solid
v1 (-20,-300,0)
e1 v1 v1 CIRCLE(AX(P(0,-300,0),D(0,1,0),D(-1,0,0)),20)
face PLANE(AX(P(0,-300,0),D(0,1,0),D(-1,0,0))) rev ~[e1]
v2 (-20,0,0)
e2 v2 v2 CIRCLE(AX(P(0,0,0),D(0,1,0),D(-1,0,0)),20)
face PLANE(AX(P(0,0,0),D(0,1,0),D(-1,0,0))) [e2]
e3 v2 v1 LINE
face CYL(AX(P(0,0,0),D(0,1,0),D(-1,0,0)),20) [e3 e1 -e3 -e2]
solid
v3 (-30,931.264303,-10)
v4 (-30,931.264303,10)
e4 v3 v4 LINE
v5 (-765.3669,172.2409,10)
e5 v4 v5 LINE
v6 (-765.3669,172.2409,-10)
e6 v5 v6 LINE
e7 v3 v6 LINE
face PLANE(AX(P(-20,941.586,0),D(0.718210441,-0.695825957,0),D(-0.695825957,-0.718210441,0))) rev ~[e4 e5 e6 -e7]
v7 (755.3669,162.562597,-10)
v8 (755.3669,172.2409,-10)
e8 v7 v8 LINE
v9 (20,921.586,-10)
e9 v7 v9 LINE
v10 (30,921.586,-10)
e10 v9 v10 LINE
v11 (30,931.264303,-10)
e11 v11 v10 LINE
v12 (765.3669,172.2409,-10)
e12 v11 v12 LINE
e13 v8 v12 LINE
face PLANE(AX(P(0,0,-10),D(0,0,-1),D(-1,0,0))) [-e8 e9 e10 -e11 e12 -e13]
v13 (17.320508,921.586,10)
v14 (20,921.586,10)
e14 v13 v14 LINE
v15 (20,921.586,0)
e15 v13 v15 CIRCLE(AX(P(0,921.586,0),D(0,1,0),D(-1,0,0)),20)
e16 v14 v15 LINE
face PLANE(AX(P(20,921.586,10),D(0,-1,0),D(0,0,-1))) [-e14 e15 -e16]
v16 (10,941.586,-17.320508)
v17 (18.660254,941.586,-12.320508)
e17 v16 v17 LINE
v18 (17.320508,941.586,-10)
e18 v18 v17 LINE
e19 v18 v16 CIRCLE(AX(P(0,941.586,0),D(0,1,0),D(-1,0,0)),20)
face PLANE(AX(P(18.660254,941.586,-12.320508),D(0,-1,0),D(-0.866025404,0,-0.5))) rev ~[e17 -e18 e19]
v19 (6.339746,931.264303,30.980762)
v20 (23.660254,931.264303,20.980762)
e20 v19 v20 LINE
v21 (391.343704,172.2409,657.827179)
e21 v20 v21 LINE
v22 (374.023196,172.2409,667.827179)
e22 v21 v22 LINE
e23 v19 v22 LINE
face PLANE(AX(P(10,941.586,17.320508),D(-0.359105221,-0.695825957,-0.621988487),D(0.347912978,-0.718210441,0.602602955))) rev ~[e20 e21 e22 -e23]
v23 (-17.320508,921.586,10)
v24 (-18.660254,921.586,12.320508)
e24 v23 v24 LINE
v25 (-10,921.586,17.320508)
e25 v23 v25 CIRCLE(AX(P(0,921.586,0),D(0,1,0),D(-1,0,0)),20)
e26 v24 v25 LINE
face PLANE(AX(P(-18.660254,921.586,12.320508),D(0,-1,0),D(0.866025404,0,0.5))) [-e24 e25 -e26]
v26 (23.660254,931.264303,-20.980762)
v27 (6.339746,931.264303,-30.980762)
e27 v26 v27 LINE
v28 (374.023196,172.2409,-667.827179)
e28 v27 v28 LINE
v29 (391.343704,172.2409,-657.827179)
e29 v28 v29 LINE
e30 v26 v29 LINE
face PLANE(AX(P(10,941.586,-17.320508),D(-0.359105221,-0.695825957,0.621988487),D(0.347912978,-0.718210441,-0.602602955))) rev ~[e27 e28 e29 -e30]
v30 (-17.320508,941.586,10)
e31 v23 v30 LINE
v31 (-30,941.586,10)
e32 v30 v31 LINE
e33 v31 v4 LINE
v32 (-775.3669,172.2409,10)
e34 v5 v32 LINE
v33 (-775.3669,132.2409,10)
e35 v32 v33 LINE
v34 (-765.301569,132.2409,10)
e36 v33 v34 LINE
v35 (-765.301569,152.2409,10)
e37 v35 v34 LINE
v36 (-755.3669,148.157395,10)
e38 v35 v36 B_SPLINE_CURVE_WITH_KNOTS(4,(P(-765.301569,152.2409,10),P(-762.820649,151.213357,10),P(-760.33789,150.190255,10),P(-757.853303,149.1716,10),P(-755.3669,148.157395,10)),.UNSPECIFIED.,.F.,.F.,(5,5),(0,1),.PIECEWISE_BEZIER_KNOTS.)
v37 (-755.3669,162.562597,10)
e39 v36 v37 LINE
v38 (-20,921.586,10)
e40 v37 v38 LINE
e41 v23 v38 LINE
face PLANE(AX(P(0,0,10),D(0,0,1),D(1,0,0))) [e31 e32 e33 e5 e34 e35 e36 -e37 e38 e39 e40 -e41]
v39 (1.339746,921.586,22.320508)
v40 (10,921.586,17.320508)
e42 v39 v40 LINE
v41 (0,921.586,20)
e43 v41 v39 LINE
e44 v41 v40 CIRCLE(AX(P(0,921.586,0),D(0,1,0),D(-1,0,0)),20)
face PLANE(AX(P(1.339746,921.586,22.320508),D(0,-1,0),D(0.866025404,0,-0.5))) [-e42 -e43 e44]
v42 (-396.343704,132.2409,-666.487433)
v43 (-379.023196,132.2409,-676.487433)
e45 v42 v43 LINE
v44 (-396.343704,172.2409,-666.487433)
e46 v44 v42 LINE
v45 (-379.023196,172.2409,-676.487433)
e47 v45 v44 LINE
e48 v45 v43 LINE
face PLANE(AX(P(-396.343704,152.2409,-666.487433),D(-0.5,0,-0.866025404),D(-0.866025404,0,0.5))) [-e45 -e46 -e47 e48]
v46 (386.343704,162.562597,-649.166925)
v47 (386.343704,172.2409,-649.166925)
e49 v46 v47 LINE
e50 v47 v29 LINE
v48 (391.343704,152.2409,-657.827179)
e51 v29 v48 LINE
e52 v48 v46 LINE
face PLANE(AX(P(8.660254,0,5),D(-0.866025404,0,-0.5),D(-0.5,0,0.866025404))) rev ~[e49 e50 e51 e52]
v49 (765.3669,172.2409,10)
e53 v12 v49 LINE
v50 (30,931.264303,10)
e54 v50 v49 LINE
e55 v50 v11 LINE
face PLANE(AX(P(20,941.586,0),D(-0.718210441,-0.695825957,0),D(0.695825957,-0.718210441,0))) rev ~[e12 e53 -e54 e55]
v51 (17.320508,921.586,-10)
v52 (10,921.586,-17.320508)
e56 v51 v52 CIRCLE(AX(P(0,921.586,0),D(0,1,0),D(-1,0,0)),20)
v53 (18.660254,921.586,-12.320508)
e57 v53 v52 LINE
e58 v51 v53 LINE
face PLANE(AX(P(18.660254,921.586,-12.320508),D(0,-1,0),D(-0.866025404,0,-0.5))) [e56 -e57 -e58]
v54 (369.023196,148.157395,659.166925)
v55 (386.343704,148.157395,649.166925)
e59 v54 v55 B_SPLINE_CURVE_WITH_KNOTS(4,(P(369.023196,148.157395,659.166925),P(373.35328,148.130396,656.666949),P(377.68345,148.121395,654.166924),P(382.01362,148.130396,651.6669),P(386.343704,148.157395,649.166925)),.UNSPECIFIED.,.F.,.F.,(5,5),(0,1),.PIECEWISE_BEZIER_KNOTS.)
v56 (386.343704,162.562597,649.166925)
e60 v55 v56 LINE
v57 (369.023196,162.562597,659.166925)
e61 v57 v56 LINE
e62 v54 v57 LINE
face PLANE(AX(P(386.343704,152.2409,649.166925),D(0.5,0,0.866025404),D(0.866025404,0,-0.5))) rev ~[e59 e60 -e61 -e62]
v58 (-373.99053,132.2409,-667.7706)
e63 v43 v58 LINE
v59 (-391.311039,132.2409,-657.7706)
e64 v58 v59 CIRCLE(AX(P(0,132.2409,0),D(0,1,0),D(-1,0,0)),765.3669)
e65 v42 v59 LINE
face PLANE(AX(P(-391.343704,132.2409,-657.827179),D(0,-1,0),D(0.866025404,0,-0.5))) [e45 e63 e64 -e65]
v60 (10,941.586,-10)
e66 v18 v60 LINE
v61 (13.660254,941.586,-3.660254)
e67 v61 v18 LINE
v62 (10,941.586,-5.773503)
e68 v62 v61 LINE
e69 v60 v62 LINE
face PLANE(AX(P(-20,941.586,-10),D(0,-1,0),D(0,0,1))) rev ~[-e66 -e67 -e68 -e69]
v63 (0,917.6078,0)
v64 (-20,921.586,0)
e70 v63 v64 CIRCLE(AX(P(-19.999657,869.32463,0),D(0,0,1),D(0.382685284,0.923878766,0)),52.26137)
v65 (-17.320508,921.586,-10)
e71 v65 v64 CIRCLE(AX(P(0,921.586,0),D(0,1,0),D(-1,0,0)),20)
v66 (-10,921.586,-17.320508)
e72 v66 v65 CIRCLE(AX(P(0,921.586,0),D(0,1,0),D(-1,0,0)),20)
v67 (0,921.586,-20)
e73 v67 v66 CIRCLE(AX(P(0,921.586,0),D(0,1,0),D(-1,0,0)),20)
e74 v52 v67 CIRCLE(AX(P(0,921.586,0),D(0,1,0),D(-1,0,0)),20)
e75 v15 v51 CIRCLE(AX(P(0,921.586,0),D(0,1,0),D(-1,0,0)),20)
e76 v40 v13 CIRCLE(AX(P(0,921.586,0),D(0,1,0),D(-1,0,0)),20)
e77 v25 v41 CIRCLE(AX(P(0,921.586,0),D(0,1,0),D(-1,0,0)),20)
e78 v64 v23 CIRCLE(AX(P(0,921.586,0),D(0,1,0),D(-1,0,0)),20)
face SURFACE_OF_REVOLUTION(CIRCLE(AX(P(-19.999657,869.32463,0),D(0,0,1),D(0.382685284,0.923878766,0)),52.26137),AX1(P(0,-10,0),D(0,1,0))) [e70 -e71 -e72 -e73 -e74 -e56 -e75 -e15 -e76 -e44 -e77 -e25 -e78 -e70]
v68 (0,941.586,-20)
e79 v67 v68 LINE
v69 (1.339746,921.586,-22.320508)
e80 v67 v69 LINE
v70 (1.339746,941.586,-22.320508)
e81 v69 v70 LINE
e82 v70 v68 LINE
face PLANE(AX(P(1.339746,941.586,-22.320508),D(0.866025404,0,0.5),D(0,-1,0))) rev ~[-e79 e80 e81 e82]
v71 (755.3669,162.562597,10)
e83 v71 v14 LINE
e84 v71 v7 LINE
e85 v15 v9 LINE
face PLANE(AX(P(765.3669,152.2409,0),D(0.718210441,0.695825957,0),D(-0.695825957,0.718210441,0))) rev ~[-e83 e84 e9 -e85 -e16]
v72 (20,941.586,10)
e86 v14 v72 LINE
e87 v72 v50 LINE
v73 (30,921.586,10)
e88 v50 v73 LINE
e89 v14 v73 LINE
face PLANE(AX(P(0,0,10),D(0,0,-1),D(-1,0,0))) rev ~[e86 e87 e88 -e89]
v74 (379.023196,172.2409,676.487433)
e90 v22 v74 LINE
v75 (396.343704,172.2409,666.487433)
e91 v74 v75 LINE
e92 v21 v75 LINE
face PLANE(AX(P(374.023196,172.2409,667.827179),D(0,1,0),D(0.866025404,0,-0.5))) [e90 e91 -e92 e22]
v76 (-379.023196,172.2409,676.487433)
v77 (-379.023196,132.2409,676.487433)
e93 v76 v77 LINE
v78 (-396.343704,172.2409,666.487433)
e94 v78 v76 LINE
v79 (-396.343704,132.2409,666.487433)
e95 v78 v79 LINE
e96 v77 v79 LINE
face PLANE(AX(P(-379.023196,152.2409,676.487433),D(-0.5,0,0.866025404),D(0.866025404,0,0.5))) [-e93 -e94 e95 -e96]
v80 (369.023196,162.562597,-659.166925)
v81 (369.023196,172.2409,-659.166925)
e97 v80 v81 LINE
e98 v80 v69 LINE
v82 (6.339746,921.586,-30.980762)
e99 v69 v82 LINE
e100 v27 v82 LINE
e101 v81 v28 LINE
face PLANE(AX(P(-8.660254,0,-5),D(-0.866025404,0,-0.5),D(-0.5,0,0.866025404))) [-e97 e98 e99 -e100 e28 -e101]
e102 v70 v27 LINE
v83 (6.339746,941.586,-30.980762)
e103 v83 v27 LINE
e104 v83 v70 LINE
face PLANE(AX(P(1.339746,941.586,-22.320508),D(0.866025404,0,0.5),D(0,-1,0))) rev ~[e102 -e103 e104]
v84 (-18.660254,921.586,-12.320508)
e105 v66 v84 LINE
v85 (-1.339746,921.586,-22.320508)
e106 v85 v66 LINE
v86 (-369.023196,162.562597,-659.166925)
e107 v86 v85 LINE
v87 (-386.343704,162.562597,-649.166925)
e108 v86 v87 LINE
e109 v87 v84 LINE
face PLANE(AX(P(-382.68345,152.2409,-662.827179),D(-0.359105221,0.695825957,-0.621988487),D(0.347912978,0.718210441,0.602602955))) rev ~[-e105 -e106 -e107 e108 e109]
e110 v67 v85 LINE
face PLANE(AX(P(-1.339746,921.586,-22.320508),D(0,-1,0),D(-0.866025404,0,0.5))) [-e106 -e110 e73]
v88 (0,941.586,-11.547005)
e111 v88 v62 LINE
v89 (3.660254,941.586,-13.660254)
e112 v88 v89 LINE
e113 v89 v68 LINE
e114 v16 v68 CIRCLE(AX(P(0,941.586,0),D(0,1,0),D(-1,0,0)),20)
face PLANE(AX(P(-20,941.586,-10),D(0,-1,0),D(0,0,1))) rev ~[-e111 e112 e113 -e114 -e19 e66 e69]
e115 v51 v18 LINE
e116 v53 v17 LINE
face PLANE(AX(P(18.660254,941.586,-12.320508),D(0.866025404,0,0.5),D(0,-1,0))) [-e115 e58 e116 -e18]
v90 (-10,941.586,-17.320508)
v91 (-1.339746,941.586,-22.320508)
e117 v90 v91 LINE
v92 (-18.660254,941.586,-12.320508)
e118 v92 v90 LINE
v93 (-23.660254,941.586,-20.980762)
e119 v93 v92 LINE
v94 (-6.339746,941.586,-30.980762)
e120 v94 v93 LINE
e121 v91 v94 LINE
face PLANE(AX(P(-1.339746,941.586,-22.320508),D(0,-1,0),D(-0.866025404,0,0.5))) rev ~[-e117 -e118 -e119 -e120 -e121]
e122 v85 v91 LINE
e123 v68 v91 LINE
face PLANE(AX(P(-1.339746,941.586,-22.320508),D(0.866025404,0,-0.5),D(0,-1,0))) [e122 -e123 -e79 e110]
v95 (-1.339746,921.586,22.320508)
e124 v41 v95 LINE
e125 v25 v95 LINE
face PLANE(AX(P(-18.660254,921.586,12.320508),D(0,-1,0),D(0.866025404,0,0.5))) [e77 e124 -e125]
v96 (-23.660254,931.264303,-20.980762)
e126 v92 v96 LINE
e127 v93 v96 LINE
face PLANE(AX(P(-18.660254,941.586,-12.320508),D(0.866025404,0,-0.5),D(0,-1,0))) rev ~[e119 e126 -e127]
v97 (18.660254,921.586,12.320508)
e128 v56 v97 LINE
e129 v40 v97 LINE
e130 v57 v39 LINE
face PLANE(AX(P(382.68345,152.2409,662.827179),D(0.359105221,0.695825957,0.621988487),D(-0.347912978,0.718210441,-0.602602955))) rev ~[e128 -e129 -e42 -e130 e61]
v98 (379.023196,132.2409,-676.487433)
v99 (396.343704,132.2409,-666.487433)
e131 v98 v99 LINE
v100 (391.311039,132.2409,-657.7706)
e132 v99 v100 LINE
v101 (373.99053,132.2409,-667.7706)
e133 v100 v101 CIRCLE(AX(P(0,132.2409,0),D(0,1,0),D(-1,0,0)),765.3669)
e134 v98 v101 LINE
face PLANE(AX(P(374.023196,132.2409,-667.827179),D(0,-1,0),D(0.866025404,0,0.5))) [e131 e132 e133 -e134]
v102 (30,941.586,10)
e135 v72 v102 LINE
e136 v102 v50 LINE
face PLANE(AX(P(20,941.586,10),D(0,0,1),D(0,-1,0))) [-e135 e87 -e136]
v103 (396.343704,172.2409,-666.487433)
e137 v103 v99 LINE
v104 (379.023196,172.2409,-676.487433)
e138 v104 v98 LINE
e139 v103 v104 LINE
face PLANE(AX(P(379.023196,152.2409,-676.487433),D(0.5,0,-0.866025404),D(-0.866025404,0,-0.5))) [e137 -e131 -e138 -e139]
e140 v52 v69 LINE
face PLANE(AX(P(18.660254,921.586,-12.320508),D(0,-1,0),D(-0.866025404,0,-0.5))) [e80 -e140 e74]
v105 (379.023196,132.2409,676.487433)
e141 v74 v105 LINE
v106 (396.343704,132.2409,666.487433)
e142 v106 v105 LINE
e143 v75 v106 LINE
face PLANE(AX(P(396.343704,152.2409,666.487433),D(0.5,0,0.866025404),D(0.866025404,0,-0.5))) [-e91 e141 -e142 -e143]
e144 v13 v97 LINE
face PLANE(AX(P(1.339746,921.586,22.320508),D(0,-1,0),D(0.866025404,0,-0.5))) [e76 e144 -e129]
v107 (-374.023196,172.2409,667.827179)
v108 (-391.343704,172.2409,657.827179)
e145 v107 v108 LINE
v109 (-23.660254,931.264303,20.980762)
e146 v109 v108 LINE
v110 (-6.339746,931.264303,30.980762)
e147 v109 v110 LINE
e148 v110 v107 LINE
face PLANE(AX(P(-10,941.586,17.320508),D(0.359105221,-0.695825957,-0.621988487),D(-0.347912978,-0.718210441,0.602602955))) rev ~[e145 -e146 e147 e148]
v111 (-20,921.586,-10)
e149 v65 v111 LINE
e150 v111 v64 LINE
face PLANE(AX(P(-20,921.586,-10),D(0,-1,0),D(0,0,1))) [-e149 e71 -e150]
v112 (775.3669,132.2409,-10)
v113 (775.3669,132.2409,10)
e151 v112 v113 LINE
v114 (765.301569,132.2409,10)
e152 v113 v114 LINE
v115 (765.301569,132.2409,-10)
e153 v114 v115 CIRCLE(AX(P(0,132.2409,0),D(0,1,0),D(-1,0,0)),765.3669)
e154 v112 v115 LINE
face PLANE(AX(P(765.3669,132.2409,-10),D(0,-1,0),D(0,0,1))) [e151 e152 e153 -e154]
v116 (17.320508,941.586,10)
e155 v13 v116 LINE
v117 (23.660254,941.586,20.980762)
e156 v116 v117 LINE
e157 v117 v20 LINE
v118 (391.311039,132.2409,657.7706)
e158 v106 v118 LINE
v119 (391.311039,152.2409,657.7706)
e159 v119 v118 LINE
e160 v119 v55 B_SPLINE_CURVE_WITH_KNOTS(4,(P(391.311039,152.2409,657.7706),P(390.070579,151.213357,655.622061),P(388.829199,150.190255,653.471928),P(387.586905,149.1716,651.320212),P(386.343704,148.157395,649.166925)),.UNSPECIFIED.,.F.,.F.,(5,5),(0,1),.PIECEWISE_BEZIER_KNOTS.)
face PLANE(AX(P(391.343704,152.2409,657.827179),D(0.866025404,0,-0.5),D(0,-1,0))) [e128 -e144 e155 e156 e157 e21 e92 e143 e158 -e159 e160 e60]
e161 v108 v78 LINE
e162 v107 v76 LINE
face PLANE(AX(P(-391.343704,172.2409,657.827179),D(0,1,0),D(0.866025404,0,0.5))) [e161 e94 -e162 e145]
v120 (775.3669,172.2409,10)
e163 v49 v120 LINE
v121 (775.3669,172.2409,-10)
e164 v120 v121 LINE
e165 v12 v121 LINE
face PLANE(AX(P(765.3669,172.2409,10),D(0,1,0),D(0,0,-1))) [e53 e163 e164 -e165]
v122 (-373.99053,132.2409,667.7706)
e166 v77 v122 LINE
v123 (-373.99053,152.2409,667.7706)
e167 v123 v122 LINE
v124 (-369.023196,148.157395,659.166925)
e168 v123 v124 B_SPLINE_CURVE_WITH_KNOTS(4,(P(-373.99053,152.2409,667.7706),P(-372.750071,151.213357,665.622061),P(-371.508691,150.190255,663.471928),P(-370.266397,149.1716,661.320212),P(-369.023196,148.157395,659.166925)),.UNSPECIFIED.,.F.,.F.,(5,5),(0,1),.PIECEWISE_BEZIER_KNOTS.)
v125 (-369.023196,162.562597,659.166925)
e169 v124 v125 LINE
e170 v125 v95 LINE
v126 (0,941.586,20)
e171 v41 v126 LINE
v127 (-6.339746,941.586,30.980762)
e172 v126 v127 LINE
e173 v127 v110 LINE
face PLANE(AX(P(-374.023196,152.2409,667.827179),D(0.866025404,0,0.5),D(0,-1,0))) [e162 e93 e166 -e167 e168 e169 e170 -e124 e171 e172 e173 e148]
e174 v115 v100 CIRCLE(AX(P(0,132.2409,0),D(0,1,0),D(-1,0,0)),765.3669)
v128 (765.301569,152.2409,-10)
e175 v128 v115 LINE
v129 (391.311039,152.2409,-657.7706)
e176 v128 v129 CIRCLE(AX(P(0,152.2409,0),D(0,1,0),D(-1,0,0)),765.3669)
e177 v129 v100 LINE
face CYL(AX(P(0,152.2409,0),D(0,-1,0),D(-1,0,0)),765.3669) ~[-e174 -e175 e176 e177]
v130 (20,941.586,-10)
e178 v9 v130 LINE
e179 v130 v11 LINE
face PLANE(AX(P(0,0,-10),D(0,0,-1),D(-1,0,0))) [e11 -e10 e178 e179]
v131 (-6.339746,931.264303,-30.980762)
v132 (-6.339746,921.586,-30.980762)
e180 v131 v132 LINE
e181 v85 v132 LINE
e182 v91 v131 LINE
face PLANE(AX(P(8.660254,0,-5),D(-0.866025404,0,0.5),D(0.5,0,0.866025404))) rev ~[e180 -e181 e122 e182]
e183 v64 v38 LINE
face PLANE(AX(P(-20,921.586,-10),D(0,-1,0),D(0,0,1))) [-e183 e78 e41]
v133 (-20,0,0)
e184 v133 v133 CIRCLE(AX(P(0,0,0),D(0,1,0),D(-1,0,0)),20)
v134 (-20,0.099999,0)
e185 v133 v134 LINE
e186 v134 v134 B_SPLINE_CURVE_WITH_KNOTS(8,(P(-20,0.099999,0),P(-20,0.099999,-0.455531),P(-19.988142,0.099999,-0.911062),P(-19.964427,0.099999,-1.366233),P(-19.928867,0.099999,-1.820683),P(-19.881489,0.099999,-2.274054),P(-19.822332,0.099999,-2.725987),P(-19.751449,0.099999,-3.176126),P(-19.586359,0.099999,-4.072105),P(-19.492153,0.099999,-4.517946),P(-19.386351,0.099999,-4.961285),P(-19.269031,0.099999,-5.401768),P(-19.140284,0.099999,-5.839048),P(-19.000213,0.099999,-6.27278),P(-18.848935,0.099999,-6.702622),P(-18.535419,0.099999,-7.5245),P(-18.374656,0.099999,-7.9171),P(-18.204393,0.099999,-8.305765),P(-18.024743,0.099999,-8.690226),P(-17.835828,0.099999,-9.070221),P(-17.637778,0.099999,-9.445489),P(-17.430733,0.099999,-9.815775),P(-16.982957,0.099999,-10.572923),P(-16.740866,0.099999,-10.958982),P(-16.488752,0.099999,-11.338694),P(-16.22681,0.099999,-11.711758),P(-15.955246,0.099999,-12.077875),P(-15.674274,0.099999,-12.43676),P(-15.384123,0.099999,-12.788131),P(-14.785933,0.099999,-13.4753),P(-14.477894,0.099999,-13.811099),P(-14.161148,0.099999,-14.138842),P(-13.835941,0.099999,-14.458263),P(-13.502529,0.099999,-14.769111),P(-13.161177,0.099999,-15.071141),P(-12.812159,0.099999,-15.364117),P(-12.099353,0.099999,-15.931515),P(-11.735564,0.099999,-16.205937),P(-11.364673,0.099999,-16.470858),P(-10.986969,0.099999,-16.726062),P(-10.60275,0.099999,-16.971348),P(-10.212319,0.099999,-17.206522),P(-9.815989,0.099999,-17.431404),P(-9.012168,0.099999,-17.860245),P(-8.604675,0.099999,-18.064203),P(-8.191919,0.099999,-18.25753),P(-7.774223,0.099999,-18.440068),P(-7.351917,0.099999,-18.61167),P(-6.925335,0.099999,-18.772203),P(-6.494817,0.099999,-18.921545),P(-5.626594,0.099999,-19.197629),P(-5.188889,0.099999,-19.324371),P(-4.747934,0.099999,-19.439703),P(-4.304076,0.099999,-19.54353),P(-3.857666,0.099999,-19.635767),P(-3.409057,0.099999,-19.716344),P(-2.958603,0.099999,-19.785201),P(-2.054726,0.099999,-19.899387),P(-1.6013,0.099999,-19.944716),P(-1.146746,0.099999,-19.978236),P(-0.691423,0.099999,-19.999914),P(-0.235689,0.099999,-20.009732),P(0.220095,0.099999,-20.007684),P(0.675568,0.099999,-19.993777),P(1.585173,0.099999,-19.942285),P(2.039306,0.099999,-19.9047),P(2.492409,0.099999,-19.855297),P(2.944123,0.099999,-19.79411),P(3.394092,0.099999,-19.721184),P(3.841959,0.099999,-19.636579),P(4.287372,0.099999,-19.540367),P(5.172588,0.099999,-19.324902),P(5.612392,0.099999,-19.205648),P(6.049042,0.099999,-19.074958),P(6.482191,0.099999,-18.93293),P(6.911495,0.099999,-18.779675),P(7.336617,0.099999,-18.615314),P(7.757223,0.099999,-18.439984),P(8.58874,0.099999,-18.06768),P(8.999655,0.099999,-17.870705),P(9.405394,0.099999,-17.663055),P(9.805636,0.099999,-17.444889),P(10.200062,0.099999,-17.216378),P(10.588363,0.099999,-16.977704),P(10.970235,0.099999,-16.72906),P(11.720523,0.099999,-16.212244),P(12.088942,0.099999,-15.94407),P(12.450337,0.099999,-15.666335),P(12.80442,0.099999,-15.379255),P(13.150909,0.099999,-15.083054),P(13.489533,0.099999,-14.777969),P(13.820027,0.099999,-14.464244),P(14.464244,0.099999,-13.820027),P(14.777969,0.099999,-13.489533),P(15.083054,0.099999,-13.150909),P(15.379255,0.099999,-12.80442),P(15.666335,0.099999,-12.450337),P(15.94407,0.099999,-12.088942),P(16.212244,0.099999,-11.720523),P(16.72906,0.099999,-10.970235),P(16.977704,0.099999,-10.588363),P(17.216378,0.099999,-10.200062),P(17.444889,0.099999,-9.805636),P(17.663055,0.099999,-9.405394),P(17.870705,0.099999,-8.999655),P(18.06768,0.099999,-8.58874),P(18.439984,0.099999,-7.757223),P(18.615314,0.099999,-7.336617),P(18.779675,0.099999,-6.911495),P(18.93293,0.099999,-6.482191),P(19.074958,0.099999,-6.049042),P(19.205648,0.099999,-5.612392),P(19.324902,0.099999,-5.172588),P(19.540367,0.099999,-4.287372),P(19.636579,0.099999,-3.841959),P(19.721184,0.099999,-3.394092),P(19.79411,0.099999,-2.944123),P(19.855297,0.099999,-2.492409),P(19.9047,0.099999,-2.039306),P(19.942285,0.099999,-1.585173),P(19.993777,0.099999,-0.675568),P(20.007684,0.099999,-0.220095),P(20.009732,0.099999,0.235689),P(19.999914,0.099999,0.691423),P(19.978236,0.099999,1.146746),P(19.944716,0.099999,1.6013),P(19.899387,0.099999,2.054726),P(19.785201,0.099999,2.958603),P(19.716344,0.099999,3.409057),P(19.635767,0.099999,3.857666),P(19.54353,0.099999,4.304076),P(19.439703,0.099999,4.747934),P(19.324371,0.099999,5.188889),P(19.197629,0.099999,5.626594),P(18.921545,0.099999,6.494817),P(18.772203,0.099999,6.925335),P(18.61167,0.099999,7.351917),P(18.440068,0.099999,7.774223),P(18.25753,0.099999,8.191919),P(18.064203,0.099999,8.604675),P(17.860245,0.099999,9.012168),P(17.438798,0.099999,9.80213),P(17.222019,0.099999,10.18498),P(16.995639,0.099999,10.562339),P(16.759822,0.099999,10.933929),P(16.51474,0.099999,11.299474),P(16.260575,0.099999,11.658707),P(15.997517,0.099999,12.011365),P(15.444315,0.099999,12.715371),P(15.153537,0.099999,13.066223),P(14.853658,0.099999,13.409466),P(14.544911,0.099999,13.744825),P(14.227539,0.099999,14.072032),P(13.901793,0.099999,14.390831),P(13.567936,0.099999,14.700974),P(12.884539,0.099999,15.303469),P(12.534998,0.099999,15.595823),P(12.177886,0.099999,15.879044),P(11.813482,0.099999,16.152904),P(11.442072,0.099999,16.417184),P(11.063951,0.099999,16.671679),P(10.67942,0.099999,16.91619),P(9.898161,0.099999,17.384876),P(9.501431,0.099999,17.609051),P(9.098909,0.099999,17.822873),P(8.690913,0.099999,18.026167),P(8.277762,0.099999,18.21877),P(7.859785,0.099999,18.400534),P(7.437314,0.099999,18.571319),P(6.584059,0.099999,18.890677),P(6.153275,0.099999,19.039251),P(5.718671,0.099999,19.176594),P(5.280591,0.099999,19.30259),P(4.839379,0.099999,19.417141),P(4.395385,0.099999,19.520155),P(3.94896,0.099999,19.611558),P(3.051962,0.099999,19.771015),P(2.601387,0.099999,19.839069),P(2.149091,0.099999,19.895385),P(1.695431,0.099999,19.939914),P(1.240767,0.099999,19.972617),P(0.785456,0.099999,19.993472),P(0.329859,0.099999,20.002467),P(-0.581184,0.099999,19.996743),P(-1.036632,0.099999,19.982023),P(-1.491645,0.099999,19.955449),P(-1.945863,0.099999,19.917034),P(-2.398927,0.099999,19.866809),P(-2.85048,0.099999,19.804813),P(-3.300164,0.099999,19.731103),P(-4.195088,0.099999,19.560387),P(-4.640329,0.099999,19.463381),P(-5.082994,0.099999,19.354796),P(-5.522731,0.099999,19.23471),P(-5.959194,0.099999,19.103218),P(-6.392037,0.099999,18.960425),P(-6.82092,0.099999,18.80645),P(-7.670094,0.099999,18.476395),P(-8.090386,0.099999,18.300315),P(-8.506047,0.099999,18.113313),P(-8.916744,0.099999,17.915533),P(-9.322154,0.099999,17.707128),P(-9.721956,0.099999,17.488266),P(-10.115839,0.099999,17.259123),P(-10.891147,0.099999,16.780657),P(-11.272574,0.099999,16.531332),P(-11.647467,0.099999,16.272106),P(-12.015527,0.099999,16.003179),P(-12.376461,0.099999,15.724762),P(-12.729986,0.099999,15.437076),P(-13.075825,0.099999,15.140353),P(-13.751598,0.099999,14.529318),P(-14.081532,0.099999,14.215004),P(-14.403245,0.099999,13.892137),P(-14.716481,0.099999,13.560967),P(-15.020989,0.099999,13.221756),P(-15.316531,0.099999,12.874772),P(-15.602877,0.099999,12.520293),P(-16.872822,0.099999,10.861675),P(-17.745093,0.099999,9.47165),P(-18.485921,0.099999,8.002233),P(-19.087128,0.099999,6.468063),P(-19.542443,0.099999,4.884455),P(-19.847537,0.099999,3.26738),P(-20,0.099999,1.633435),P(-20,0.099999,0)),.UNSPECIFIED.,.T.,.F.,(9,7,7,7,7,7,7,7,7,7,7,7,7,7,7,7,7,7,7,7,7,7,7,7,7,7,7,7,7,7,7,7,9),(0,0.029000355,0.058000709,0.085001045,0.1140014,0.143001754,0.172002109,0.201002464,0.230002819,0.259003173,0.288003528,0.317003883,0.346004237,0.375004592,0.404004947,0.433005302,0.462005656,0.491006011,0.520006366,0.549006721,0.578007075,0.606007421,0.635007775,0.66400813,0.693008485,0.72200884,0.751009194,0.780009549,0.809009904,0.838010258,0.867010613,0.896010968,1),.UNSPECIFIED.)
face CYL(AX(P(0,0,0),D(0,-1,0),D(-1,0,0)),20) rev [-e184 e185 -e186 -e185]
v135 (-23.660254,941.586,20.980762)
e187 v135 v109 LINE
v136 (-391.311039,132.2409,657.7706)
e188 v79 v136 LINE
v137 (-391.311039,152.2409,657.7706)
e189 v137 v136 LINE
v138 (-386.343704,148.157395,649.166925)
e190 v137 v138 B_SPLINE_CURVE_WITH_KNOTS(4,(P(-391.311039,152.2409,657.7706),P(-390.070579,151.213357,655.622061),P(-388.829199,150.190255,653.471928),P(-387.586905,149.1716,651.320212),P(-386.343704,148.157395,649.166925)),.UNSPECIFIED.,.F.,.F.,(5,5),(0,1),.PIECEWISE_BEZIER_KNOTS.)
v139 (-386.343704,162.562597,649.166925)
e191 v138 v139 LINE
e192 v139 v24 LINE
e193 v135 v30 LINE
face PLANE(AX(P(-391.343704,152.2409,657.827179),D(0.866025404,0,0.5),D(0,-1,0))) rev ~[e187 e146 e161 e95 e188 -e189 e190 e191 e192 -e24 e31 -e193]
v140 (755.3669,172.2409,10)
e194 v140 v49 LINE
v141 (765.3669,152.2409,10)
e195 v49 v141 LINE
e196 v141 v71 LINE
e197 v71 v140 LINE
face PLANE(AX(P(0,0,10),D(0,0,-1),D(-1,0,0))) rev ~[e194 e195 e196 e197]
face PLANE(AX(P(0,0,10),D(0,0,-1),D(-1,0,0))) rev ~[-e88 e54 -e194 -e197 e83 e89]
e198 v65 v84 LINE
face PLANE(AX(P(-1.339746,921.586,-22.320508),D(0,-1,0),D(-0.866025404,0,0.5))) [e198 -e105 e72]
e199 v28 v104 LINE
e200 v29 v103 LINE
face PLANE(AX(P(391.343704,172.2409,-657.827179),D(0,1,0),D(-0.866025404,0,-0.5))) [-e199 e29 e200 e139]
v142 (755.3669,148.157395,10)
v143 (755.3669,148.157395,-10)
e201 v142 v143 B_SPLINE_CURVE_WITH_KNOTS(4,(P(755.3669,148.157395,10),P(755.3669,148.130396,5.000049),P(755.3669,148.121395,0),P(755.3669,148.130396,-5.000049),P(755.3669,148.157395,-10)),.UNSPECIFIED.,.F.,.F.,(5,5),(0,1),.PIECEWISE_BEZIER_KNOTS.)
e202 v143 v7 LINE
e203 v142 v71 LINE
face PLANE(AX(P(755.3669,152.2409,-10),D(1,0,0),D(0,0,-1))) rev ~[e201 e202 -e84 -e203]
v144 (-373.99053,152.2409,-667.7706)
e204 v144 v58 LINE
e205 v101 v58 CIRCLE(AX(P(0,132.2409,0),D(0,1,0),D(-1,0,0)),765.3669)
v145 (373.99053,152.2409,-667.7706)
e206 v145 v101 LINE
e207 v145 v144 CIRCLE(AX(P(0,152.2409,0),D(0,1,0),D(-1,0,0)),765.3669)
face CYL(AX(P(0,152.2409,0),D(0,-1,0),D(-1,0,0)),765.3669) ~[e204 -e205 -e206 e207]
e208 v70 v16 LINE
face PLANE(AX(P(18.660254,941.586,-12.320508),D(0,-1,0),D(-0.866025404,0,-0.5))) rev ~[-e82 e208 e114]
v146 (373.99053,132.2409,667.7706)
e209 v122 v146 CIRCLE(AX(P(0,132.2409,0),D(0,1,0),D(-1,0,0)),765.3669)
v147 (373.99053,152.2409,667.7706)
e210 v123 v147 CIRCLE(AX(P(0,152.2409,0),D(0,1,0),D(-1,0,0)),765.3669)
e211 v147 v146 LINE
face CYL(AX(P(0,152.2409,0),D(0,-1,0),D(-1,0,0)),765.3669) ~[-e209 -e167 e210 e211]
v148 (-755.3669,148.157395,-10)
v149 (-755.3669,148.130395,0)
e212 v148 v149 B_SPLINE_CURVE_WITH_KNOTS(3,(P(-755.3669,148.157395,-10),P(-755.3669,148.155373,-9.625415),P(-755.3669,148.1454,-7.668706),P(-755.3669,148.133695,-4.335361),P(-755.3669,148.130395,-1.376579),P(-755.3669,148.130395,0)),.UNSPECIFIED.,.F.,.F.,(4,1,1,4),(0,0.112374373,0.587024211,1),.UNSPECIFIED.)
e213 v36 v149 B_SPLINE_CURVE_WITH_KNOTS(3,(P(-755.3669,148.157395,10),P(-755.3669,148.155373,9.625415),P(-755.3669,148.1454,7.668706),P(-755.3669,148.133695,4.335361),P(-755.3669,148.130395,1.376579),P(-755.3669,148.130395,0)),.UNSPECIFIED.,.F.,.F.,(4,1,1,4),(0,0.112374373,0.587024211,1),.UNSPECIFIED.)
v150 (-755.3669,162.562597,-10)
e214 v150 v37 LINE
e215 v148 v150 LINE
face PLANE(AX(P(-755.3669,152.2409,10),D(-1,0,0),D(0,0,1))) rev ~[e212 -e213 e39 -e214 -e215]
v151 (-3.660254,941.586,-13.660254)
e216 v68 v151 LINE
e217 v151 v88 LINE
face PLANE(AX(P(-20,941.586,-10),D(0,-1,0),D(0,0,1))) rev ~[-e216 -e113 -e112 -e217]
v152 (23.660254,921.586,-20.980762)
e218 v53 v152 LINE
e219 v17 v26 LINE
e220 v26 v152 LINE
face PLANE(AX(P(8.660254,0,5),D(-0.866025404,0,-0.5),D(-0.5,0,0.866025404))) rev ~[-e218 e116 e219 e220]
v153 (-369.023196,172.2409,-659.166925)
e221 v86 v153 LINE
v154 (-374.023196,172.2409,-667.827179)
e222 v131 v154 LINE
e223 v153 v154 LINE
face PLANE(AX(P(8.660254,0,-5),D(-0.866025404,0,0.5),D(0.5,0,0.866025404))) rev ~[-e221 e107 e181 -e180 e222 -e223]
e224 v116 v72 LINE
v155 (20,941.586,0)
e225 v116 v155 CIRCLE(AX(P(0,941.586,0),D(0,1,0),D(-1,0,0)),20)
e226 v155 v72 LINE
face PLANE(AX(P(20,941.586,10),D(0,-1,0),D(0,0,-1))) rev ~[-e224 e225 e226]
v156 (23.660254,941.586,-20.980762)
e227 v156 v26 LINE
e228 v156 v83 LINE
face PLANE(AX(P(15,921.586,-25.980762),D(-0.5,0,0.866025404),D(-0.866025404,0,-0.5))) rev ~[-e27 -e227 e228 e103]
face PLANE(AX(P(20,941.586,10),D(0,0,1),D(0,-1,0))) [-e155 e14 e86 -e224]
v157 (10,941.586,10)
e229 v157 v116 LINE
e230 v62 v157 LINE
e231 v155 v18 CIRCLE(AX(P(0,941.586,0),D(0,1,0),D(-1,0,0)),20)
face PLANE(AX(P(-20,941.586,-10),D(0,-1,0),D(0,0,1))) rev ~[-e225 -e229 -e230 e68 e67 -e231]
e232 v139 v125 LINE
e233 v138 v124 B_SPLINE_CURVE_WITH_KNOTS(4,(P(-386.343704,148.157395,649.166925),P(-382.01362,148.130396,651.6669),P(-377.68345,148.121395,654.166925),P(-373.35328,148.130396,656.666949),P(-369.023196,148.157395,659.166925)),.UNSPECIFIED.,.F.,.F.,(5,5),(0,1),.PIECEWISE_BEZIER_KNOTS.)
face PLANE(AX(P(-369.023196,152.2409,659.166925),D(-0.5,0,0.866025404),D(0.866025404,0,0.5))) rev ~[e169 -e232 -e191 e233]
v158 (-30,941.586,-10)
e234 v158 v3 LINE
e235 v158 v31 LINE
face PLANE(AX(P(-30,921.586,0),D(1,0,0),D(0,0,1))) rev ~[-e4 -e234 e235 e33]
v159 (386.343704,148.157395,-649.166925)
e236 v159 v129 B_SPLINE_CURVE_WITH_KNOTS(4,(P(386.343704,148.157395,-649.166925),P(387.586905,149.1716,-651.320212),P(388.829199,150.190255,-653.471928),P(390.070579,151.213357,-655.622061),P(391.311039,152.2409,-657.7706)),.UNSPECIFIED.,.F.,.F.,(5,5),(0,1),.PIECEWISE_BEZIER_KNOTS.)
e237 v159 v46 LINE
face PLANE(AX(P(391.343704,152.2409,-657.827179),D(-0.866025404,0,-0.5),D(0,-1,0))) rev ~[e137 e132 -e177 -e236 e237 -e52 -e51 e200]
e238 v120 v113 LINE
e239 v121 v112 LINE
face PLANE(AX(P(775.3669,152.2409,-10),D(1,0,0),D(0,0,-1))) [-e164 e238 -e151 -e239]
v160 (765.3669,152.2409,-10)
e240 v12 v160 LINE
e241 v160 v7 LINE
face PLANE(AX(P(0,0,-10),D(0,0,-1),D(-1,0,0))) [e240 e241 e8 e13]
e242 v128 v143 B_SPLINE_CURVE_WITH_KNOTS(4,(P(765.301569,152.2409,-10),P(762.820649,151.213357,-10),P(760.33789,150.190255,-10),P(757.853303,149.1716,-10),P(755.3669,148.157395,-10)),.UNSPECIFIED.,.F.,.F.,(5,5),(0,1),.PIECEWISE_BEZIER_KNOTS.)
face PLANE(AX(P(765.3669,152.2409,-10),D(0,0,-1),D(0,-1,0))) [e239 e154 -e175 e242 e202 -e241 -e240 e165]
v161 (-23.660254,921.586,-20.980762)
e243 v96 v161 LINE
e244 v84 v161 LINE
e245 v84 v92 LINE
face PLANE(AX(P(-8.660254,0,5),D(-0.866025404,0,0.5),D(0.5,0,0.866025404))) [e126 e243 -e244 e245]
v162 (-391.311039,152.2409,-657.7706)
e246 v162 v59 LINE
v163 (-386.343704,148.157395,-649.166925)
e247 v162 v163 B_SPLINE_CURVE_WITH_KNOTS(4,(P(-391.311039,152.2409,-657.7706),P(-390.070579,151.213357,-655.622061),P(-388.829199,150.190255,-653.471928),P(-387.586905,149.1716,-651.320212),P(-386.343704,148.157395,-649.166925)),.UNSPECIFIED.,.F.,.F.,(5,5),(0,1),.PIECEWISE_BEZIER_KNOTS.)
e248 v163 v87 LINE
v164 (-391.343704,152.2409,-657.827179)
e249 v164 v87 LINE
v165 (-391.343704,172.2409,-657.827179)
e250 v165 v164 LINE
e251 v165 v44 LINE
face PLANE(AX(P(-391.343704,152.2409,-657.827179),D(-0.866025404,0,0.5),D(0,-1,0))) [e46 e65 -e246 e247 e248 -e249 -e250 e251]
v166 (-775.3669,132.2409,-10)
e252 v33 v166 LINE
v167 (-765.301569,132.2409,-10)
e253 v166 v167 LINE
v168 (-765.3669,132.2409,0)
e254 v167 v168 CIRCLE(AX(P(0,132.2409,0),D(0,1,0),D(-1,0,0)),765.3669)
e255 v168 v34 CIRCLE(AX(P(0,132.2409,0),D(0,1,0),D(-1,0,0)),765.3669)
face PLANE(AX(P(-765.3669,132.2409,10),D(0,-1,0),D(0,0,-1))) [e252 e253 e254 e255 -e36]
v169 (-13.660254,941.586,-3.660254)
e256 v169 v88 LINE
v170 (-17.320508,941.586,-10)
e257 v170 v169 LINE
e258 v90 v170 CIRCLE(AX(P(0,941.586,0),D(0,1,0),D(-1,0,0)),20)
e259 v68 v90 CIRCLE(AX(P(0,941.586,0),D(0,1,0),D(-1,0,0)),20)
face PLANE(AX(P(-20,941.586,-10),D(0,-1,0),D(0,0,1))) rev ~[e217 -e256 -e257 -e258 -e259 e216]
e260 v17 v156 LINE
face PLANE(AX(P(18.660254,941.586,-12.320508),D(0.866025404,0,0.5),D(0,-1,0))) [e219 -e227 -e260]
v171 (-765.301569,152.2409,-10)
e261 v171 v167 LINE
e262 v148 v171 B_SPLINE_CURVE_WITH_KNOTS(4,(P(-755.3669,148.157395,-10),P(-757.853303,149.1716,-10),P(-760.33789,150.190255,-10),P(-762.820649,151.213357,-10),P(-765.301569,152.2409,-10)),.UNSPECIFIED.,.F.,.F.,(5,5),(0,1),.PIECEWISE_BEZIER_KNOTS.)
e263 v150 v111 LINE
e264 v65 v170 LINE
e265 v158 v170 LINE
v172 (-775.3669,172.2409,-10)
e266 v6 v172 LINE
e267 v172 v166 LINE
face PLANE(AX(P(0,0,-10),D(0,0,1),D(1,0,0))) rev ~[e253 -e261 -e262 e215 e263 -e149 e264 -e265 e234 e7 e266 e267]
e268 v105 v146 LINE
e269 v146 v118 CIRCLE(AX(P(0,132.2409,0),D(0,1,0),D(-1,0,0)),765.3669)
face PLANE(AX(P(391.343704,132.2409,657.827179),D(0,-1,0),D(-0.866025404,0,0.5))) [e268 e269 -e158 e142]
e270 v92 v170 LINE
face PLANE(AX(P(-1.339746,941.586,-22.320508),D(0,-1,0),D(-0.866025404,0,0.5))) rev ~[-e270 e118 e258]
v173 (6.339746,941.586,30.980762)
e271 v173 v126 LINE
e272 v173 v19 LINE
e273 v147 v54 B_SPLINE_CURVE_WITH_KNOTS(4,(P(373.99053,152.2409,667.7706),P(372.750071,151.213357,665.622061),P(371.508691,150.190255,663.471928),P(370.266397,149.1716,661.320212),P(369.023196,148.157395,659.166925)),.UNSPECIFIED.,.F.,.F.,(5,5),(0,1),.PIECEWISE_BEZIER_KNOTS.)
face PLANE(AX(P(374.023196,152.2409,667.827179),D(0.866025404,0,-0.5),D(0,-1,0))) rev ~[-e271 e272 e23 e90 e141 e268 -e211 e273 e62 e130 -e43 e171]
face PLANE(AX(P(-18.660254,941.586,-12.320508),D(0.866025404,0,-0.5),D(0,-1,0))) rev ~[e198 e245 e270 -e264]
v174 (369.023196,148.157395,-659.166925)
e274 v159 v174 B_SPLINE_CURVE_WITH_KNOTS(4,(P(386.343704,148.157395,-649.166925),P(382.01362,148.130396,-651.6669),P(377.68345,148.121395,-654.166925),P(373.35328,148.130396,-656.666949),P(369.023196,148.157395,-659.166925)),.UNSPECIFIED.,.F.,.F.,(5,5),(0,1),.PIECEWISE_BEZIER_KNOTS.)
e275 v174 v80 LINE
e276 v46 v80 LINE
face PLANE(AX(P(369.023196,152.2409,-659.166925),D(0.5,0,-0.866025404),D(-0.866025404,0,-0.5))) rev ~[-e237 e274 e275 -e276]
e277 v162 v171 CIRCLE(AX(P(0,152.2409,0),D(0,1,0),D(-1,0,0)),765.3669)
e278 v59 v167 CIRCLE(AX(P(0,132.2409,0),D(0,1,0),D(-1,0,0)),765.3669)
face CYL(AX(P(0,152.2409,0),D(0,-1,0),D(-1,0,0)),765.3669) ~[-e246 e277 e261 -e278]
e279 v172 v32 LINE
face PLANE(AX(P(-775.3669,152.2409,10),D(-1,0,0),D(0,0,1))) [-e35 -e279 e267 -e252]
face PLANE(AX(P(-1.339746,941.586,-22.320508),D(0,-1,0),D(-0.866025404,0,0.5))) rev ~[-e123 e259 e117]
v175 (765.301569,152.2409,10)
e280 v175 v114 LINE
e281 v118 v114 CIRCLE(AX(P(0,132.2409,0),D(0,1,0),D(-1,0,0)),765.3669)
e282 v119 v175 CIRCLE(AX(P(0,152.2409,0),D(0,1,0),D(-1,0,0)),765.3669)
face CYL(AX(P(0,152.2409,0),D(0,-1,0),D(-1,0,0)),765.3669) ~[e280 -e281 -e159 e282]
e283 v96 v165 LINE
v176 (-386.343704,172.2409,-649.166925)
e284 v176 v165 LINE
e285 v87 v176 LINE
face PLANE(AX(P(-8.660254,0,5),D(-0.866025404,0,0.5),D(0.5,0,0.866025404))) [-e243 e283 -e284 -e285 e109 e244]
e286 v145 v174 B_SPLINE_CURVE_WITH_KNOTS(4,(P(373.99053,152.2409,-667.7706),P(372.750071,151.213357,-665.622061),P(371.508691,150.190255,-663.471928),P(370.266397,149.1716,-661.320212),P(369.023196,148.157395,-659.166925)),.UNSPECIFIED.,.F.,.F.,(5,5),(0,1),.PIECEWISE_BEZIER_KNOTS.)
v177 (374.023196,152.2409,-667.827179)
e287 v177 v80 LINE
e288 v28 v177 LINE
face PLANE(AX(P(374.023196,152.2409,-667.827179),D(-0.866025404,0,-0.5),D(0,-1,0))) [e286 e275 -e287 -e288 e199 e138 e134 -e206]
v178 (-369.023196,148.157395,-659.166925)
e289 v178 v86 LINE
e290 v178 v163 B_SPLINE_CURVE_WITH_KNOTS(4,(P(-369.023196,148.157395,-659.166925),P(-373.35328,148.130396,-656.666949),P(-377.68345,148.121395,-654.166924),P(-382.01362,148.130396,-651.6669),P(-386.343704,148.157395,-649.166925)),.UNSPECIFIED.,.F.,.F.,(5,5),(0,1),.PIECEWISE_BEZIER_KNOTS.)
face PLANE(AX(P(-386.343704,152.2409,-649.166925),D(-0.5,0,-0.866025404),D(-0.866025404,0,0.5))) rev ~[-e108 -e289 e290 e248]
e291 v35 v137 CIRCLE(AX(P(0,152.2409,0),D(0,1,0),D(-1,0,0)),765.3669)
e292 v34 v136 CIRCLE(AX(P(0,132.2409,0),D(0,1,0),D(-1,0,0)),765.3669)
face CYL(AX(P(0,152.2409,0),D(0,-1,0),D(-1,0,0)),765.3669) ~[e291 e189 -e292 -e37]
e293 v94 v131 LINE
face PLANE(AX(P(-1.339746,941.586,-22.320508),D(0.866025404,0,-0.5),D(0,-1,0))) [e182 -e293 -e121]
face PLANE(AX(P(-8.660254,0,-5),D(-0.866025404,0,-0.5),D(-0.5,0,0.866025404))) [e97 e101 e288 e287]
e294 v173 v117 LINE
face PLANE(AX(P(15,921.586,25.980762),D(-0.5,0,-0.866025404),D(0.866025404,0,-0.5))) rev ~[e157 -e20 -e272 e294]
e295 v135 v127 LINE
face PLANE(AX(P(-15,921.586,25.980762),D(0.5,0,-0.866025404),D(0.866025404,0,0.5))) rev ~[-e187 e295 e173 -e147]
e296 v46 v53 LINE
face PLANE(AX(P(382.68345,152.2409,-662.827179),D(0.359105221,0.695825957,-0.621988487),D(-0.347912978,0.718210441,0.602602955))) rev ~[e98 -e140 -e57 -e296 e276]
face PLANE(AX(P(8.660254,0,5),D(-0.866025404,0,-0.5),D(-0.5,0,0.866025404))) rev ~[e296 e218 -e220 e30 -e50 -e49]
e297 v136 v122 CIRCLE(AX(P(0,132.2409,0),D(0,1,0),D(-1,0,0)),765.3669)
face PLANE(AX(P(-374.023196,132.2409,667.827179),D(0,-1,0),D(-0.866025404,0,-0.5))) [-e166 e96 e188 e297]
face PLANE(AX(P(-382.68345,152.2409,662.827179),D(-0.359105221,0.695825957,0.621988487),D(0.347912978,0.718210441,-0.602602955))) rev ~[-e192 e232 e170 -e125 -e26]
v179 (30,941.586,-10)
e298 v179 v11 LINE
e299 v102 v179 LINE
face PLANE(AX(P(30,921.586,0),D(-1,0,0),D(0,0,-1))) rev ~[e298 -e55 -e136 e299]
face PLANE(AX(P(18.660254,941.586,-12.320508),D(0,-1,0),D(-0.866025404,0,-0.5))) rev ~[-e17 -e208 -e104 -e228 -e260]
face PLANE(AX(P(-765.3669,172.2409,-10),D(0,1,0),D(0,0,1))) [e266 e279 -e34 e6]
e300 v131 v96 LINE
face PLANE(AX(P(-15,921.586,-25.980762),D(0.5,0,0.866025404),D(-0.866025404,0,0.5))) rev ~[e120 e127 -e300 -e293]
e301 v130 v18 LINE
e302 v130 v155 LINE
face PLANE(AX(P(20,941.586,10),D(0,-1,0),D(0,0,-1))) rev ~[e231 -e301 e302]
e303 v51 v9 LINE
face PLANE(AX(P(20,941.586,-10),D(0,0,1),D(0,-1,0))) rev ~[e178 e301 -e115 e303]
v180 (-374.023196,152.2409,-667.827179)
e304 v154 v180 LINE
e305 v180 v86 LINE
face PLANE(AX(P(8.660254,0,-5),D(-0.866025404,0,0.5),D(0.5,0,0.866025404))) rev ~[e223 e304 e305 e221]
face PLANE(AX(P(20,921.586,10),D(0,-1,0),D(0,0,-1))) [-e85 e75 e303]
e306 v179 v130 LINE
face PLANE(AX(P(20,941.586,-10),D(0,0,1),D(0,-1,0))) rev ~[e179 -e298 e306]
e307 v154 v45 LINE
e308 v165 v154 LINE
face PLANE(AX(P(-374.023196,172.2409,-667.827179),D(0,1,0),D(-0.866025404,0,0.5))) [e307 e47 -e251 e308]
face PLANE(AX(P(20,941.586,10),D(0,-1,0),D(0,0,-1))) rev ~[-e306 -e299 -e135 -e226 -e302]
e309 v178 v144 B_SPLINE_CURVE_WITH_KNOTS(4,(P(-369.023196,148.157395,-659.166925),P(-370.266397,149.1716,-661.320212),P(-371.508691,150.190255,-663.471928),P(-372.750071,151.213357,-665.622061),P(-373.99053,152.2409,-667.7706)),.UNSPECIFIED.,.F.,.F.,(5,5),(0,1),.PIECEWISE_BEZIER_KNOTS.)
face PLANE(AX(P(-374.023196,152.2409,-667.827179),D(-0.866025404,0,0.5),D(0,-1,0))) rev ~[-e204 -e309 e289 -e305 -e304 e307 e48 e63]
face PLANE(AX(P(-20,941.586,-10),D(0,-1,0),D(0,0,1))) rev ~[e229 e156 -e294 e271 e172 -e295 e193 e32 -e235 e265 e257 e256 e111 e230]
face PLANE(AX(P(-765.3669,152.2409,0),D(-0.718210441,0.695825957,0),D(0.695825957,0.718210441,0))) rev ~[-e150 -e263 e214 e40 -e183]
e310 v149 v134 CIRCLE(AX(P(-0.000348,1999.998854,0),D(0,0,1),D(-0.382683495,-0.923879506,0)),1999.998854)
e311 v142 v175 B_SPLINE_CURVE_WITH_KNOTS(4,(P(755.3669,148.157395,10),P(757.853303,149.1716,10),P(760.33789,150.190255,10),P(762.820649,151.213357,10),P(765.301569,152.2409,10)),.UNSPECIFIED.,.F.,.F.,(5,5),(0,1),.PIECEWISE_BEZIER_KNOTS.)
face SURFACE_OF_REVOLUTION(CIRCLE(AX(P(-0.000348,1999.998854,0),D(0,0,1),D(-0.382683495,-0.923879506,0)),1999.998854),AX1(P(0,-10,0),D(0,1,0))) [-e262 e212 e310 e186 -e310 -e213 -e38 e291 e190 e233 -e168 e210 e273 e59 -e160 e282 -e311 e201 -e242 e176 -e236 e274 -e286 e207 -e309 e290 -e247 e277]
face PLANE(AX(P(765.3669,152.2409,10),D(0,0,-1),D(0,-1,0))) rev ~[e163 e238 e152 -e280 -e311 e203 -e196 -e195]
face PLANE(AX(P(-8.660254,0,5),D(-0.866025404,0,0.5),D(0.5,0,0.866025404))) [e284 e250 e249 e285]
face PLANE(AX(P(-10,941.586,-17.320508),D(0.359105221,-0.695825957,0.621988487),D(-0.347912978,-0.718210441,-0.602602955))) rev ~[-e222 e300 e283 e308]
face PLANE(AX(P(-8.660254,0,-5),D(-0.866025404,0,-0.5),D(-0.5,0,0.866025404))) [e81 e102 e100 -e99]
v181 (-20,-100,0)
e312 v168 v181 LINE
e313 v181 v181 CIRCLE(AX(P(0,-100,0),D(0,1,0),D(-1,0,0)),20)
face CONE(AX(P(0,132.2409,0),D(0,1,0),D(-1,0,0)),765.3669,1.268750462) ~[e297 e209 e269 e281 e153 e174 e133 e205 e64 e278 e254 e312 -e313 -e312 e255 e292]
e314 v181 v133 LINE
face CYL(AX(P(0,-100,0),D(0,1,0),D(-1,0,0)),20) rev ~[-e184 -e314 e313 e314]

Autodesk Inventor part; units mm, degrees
ref_plane "YZ Plane" through (0, 0, 0) normal (1, 0, 0) x (0, 1, 0)
ref_plane "XZ Plane" through (0, 0, 0) normal (0, 1, 0) x (-1, 0, 0)
ref_plane "XY Plane" through (0, 0, 0) normal (0, 0, 1) x (1, 0, 0)
sketch "Sketch1" plane through (0, 0, 0) normal (0, 0, 1) x (1, 0, 0)
  line L0 (0, 0) -> (-20, 0)
  line L1 (0, 0) -> (0, 917.6078) construction
  line L2 (0, 0) -> (0, -100)
  line L3 (0, 0) -> (100, 0) construction
  line L4 (0, -100) -> (-20, -100)
  line L5 (-20, -100) -> (-20, 0)
  arc A0 (-765.3669, 152.2409) -> (0, 0) centre (0, 2000) ccw
  line L6 (0, 2000) -> (-765.3669, 152.2409) construction
  line L7 (0, 2000) -> (0, 0) construction
  line L8 (0, -520) -> (0, 2420) projected
  line L9 (-765.3669, 152.2409) -> (-765.3669, 1234.6331) construction
  line L10 (-765.3669, 152.2409) -> (0, 917.6078) construction
  line L11 (0, 917.6078) -> (-92.388, 955.8761) construction
  line L12 (0, 917.6078) -> (92.388, 879.3395) construction
  arc A1 (0, 917.6078) -> (-20, 921.586) centre (-20, 869.3235) ccw
  line L13 (0, 917.6078) -> (-20, 869.3235) construction
  line L14 (-20, 921.586) -> (-20, 869.3235) construction
  line L15 (-20, 921.586) -> (-20, 941.586)
  line L16 (-20, 941.586) -> (0, 941.586)
  line L17 (0, 917.6078) -> (0, 941.586)
  line L18 (-765.3669, 152.2409) -> (-765.3669, 132.2409)
  line L19 (-765.3669, 132.2409) -> (-20, -100)
  dimension "d0" = 20
  dimension "d2" = 100
  dimension "d3" = 90
  dimension "d5" = 22.5
  dimension "d6" = 2000
  dimension "d7" = 22.5
  dimension "d8" = 22.5
  dimension "d9" = 1082.3922
  dimension "d11" = 45
  dimension "d12" = 917.6078
  dimension "d13" = 100
  dimension "d14" = 67.5
  dimension "d19" = 100
  dimension "d21" = 22.5
  dimension "d22" = 20
  dimension "d23" = 20
  dimension "d24" = 20
revolve "Revolution1" add sketch "Sketch1" angle 360 about axis through (0, -10, 0) along (0, 1, 0) contours L0 L5 L19 L18 A0 | A1 L15 L16 L8
sketch "Sketch2" plane through (0, 0, 0) normal (0, 0, 1) x (1, 0, 0)
  line L0 (765.3669, 152.2409) -> (-765.3669, 152.2409) projected
  line L1 (20, 921.586) -> (-20, 921.586) projected
  line L2 (-765.3669, 152.2409) -> (-20, 921.586)
  line L3 (-20, 921.586) -> (-20, 941.586) projected
  line L4 (20, 941.586) -> (-20, 941.586) projected
  line L5 (-20, 921.586) -> (-20, 941.586)
  line L6 (-20, 941.586) -> (-765.3669, 172.2409)
  line L7 (-765.3669, 172.2409) -> (-765.3669, 152.2409)
  point P0 (0, 0)
  dimension "d26" = 20
extrude "Extrusion1" add sketch "Sketch2" along normal mid plane 20
sketch "Sketch3" plane through (-765.3669, 152.2409, 10) normal (-1, 0, 0) x (0, 0, 1)
  line L0 (0, 0) -> (-10, 0) projected
  line L1 (0, 20) -> (0, 0) projected
  line L2 (-20, 20) -> (0, 20) projected
  line L3 (-20, 0) -> (-20, 20) projected
  line L4 (-10, 0) -> (-20, 0) projected
  line L5 (-20, 20) -> (0, 20)
  line L6 (0, 20) -> (0, -20)
  line L7 (0, 0) -> (0, 769.3451) projected
  line L8 (0, -20) -> (-20, -20)
  line L9 (755.3669, -20) -> (-775.3669, -20) projected
  line L10 (-20, 20) -> (-20, 789.3451) projected
  line L11 (-20, 20) -> (-20, -20)
  point P0 (-10, -152.2409)
  dimension "d29" = 40
extrude "Extrusion2" add sketch "Sketch3" along normal mid plane 20
sketch "Sketch4" plane through (-20, 921.586, 0) normal (1, 0, 0) x (0, 0, 1)
  line L0 (-10, 749.3451) -> (10, 749.3451) projected
  line L1 (10, -20) -> (10, 749.3451) construction
  line L2 (0, -20) -> (10, -20) projected
  line L3 (-10, -20) -> (0, -20) projected
  line L4 (-10, 749.3451) -> (-10, -20) construction
  line L5 (-10, 0) -> (-10, 759.0234) construction
  line L6 (-10, -20) -> (-10, 0)
  line L7 (-10, 0) -> (10, 0)
  line L8 (10, -20) -> (10, 749.3451) construction
  line L9 (10, -20) -> (-10, -20)
  line L10 (10, -20) -> (10, 0)
  point P0 (0, 921.586)
extrude "Extrusion3" add sketch "Sketch4" along normal mid plane 20
pattern_circular "Circular Pattern1" count 6 over 360 about axis through (0, -50, 0) along (0, 1, 0) of "Extrusion1", "Extrusion2", "Extrusion3"
sketch "Sketch5" plane through (0, 0, 0) normal (0, 1, 0) x (-1, 0, 0)
  circle A0 centre (0, 0) radius 20 projected
extrude "Extrusion4" cut sketch "Sketch5" along normal blind 20
sketch "Sketch6" plane through (0, 0, 0) normal (0, 1, 0) x (-1, 0, 0)
  circle A0 centre (0, 0) radius 20 projected
extrude "Extrusion5" add sketch "Sketch6" against normal blind 300 separate body
equation "\"d8\" = d7"
properties part number "Dish"
